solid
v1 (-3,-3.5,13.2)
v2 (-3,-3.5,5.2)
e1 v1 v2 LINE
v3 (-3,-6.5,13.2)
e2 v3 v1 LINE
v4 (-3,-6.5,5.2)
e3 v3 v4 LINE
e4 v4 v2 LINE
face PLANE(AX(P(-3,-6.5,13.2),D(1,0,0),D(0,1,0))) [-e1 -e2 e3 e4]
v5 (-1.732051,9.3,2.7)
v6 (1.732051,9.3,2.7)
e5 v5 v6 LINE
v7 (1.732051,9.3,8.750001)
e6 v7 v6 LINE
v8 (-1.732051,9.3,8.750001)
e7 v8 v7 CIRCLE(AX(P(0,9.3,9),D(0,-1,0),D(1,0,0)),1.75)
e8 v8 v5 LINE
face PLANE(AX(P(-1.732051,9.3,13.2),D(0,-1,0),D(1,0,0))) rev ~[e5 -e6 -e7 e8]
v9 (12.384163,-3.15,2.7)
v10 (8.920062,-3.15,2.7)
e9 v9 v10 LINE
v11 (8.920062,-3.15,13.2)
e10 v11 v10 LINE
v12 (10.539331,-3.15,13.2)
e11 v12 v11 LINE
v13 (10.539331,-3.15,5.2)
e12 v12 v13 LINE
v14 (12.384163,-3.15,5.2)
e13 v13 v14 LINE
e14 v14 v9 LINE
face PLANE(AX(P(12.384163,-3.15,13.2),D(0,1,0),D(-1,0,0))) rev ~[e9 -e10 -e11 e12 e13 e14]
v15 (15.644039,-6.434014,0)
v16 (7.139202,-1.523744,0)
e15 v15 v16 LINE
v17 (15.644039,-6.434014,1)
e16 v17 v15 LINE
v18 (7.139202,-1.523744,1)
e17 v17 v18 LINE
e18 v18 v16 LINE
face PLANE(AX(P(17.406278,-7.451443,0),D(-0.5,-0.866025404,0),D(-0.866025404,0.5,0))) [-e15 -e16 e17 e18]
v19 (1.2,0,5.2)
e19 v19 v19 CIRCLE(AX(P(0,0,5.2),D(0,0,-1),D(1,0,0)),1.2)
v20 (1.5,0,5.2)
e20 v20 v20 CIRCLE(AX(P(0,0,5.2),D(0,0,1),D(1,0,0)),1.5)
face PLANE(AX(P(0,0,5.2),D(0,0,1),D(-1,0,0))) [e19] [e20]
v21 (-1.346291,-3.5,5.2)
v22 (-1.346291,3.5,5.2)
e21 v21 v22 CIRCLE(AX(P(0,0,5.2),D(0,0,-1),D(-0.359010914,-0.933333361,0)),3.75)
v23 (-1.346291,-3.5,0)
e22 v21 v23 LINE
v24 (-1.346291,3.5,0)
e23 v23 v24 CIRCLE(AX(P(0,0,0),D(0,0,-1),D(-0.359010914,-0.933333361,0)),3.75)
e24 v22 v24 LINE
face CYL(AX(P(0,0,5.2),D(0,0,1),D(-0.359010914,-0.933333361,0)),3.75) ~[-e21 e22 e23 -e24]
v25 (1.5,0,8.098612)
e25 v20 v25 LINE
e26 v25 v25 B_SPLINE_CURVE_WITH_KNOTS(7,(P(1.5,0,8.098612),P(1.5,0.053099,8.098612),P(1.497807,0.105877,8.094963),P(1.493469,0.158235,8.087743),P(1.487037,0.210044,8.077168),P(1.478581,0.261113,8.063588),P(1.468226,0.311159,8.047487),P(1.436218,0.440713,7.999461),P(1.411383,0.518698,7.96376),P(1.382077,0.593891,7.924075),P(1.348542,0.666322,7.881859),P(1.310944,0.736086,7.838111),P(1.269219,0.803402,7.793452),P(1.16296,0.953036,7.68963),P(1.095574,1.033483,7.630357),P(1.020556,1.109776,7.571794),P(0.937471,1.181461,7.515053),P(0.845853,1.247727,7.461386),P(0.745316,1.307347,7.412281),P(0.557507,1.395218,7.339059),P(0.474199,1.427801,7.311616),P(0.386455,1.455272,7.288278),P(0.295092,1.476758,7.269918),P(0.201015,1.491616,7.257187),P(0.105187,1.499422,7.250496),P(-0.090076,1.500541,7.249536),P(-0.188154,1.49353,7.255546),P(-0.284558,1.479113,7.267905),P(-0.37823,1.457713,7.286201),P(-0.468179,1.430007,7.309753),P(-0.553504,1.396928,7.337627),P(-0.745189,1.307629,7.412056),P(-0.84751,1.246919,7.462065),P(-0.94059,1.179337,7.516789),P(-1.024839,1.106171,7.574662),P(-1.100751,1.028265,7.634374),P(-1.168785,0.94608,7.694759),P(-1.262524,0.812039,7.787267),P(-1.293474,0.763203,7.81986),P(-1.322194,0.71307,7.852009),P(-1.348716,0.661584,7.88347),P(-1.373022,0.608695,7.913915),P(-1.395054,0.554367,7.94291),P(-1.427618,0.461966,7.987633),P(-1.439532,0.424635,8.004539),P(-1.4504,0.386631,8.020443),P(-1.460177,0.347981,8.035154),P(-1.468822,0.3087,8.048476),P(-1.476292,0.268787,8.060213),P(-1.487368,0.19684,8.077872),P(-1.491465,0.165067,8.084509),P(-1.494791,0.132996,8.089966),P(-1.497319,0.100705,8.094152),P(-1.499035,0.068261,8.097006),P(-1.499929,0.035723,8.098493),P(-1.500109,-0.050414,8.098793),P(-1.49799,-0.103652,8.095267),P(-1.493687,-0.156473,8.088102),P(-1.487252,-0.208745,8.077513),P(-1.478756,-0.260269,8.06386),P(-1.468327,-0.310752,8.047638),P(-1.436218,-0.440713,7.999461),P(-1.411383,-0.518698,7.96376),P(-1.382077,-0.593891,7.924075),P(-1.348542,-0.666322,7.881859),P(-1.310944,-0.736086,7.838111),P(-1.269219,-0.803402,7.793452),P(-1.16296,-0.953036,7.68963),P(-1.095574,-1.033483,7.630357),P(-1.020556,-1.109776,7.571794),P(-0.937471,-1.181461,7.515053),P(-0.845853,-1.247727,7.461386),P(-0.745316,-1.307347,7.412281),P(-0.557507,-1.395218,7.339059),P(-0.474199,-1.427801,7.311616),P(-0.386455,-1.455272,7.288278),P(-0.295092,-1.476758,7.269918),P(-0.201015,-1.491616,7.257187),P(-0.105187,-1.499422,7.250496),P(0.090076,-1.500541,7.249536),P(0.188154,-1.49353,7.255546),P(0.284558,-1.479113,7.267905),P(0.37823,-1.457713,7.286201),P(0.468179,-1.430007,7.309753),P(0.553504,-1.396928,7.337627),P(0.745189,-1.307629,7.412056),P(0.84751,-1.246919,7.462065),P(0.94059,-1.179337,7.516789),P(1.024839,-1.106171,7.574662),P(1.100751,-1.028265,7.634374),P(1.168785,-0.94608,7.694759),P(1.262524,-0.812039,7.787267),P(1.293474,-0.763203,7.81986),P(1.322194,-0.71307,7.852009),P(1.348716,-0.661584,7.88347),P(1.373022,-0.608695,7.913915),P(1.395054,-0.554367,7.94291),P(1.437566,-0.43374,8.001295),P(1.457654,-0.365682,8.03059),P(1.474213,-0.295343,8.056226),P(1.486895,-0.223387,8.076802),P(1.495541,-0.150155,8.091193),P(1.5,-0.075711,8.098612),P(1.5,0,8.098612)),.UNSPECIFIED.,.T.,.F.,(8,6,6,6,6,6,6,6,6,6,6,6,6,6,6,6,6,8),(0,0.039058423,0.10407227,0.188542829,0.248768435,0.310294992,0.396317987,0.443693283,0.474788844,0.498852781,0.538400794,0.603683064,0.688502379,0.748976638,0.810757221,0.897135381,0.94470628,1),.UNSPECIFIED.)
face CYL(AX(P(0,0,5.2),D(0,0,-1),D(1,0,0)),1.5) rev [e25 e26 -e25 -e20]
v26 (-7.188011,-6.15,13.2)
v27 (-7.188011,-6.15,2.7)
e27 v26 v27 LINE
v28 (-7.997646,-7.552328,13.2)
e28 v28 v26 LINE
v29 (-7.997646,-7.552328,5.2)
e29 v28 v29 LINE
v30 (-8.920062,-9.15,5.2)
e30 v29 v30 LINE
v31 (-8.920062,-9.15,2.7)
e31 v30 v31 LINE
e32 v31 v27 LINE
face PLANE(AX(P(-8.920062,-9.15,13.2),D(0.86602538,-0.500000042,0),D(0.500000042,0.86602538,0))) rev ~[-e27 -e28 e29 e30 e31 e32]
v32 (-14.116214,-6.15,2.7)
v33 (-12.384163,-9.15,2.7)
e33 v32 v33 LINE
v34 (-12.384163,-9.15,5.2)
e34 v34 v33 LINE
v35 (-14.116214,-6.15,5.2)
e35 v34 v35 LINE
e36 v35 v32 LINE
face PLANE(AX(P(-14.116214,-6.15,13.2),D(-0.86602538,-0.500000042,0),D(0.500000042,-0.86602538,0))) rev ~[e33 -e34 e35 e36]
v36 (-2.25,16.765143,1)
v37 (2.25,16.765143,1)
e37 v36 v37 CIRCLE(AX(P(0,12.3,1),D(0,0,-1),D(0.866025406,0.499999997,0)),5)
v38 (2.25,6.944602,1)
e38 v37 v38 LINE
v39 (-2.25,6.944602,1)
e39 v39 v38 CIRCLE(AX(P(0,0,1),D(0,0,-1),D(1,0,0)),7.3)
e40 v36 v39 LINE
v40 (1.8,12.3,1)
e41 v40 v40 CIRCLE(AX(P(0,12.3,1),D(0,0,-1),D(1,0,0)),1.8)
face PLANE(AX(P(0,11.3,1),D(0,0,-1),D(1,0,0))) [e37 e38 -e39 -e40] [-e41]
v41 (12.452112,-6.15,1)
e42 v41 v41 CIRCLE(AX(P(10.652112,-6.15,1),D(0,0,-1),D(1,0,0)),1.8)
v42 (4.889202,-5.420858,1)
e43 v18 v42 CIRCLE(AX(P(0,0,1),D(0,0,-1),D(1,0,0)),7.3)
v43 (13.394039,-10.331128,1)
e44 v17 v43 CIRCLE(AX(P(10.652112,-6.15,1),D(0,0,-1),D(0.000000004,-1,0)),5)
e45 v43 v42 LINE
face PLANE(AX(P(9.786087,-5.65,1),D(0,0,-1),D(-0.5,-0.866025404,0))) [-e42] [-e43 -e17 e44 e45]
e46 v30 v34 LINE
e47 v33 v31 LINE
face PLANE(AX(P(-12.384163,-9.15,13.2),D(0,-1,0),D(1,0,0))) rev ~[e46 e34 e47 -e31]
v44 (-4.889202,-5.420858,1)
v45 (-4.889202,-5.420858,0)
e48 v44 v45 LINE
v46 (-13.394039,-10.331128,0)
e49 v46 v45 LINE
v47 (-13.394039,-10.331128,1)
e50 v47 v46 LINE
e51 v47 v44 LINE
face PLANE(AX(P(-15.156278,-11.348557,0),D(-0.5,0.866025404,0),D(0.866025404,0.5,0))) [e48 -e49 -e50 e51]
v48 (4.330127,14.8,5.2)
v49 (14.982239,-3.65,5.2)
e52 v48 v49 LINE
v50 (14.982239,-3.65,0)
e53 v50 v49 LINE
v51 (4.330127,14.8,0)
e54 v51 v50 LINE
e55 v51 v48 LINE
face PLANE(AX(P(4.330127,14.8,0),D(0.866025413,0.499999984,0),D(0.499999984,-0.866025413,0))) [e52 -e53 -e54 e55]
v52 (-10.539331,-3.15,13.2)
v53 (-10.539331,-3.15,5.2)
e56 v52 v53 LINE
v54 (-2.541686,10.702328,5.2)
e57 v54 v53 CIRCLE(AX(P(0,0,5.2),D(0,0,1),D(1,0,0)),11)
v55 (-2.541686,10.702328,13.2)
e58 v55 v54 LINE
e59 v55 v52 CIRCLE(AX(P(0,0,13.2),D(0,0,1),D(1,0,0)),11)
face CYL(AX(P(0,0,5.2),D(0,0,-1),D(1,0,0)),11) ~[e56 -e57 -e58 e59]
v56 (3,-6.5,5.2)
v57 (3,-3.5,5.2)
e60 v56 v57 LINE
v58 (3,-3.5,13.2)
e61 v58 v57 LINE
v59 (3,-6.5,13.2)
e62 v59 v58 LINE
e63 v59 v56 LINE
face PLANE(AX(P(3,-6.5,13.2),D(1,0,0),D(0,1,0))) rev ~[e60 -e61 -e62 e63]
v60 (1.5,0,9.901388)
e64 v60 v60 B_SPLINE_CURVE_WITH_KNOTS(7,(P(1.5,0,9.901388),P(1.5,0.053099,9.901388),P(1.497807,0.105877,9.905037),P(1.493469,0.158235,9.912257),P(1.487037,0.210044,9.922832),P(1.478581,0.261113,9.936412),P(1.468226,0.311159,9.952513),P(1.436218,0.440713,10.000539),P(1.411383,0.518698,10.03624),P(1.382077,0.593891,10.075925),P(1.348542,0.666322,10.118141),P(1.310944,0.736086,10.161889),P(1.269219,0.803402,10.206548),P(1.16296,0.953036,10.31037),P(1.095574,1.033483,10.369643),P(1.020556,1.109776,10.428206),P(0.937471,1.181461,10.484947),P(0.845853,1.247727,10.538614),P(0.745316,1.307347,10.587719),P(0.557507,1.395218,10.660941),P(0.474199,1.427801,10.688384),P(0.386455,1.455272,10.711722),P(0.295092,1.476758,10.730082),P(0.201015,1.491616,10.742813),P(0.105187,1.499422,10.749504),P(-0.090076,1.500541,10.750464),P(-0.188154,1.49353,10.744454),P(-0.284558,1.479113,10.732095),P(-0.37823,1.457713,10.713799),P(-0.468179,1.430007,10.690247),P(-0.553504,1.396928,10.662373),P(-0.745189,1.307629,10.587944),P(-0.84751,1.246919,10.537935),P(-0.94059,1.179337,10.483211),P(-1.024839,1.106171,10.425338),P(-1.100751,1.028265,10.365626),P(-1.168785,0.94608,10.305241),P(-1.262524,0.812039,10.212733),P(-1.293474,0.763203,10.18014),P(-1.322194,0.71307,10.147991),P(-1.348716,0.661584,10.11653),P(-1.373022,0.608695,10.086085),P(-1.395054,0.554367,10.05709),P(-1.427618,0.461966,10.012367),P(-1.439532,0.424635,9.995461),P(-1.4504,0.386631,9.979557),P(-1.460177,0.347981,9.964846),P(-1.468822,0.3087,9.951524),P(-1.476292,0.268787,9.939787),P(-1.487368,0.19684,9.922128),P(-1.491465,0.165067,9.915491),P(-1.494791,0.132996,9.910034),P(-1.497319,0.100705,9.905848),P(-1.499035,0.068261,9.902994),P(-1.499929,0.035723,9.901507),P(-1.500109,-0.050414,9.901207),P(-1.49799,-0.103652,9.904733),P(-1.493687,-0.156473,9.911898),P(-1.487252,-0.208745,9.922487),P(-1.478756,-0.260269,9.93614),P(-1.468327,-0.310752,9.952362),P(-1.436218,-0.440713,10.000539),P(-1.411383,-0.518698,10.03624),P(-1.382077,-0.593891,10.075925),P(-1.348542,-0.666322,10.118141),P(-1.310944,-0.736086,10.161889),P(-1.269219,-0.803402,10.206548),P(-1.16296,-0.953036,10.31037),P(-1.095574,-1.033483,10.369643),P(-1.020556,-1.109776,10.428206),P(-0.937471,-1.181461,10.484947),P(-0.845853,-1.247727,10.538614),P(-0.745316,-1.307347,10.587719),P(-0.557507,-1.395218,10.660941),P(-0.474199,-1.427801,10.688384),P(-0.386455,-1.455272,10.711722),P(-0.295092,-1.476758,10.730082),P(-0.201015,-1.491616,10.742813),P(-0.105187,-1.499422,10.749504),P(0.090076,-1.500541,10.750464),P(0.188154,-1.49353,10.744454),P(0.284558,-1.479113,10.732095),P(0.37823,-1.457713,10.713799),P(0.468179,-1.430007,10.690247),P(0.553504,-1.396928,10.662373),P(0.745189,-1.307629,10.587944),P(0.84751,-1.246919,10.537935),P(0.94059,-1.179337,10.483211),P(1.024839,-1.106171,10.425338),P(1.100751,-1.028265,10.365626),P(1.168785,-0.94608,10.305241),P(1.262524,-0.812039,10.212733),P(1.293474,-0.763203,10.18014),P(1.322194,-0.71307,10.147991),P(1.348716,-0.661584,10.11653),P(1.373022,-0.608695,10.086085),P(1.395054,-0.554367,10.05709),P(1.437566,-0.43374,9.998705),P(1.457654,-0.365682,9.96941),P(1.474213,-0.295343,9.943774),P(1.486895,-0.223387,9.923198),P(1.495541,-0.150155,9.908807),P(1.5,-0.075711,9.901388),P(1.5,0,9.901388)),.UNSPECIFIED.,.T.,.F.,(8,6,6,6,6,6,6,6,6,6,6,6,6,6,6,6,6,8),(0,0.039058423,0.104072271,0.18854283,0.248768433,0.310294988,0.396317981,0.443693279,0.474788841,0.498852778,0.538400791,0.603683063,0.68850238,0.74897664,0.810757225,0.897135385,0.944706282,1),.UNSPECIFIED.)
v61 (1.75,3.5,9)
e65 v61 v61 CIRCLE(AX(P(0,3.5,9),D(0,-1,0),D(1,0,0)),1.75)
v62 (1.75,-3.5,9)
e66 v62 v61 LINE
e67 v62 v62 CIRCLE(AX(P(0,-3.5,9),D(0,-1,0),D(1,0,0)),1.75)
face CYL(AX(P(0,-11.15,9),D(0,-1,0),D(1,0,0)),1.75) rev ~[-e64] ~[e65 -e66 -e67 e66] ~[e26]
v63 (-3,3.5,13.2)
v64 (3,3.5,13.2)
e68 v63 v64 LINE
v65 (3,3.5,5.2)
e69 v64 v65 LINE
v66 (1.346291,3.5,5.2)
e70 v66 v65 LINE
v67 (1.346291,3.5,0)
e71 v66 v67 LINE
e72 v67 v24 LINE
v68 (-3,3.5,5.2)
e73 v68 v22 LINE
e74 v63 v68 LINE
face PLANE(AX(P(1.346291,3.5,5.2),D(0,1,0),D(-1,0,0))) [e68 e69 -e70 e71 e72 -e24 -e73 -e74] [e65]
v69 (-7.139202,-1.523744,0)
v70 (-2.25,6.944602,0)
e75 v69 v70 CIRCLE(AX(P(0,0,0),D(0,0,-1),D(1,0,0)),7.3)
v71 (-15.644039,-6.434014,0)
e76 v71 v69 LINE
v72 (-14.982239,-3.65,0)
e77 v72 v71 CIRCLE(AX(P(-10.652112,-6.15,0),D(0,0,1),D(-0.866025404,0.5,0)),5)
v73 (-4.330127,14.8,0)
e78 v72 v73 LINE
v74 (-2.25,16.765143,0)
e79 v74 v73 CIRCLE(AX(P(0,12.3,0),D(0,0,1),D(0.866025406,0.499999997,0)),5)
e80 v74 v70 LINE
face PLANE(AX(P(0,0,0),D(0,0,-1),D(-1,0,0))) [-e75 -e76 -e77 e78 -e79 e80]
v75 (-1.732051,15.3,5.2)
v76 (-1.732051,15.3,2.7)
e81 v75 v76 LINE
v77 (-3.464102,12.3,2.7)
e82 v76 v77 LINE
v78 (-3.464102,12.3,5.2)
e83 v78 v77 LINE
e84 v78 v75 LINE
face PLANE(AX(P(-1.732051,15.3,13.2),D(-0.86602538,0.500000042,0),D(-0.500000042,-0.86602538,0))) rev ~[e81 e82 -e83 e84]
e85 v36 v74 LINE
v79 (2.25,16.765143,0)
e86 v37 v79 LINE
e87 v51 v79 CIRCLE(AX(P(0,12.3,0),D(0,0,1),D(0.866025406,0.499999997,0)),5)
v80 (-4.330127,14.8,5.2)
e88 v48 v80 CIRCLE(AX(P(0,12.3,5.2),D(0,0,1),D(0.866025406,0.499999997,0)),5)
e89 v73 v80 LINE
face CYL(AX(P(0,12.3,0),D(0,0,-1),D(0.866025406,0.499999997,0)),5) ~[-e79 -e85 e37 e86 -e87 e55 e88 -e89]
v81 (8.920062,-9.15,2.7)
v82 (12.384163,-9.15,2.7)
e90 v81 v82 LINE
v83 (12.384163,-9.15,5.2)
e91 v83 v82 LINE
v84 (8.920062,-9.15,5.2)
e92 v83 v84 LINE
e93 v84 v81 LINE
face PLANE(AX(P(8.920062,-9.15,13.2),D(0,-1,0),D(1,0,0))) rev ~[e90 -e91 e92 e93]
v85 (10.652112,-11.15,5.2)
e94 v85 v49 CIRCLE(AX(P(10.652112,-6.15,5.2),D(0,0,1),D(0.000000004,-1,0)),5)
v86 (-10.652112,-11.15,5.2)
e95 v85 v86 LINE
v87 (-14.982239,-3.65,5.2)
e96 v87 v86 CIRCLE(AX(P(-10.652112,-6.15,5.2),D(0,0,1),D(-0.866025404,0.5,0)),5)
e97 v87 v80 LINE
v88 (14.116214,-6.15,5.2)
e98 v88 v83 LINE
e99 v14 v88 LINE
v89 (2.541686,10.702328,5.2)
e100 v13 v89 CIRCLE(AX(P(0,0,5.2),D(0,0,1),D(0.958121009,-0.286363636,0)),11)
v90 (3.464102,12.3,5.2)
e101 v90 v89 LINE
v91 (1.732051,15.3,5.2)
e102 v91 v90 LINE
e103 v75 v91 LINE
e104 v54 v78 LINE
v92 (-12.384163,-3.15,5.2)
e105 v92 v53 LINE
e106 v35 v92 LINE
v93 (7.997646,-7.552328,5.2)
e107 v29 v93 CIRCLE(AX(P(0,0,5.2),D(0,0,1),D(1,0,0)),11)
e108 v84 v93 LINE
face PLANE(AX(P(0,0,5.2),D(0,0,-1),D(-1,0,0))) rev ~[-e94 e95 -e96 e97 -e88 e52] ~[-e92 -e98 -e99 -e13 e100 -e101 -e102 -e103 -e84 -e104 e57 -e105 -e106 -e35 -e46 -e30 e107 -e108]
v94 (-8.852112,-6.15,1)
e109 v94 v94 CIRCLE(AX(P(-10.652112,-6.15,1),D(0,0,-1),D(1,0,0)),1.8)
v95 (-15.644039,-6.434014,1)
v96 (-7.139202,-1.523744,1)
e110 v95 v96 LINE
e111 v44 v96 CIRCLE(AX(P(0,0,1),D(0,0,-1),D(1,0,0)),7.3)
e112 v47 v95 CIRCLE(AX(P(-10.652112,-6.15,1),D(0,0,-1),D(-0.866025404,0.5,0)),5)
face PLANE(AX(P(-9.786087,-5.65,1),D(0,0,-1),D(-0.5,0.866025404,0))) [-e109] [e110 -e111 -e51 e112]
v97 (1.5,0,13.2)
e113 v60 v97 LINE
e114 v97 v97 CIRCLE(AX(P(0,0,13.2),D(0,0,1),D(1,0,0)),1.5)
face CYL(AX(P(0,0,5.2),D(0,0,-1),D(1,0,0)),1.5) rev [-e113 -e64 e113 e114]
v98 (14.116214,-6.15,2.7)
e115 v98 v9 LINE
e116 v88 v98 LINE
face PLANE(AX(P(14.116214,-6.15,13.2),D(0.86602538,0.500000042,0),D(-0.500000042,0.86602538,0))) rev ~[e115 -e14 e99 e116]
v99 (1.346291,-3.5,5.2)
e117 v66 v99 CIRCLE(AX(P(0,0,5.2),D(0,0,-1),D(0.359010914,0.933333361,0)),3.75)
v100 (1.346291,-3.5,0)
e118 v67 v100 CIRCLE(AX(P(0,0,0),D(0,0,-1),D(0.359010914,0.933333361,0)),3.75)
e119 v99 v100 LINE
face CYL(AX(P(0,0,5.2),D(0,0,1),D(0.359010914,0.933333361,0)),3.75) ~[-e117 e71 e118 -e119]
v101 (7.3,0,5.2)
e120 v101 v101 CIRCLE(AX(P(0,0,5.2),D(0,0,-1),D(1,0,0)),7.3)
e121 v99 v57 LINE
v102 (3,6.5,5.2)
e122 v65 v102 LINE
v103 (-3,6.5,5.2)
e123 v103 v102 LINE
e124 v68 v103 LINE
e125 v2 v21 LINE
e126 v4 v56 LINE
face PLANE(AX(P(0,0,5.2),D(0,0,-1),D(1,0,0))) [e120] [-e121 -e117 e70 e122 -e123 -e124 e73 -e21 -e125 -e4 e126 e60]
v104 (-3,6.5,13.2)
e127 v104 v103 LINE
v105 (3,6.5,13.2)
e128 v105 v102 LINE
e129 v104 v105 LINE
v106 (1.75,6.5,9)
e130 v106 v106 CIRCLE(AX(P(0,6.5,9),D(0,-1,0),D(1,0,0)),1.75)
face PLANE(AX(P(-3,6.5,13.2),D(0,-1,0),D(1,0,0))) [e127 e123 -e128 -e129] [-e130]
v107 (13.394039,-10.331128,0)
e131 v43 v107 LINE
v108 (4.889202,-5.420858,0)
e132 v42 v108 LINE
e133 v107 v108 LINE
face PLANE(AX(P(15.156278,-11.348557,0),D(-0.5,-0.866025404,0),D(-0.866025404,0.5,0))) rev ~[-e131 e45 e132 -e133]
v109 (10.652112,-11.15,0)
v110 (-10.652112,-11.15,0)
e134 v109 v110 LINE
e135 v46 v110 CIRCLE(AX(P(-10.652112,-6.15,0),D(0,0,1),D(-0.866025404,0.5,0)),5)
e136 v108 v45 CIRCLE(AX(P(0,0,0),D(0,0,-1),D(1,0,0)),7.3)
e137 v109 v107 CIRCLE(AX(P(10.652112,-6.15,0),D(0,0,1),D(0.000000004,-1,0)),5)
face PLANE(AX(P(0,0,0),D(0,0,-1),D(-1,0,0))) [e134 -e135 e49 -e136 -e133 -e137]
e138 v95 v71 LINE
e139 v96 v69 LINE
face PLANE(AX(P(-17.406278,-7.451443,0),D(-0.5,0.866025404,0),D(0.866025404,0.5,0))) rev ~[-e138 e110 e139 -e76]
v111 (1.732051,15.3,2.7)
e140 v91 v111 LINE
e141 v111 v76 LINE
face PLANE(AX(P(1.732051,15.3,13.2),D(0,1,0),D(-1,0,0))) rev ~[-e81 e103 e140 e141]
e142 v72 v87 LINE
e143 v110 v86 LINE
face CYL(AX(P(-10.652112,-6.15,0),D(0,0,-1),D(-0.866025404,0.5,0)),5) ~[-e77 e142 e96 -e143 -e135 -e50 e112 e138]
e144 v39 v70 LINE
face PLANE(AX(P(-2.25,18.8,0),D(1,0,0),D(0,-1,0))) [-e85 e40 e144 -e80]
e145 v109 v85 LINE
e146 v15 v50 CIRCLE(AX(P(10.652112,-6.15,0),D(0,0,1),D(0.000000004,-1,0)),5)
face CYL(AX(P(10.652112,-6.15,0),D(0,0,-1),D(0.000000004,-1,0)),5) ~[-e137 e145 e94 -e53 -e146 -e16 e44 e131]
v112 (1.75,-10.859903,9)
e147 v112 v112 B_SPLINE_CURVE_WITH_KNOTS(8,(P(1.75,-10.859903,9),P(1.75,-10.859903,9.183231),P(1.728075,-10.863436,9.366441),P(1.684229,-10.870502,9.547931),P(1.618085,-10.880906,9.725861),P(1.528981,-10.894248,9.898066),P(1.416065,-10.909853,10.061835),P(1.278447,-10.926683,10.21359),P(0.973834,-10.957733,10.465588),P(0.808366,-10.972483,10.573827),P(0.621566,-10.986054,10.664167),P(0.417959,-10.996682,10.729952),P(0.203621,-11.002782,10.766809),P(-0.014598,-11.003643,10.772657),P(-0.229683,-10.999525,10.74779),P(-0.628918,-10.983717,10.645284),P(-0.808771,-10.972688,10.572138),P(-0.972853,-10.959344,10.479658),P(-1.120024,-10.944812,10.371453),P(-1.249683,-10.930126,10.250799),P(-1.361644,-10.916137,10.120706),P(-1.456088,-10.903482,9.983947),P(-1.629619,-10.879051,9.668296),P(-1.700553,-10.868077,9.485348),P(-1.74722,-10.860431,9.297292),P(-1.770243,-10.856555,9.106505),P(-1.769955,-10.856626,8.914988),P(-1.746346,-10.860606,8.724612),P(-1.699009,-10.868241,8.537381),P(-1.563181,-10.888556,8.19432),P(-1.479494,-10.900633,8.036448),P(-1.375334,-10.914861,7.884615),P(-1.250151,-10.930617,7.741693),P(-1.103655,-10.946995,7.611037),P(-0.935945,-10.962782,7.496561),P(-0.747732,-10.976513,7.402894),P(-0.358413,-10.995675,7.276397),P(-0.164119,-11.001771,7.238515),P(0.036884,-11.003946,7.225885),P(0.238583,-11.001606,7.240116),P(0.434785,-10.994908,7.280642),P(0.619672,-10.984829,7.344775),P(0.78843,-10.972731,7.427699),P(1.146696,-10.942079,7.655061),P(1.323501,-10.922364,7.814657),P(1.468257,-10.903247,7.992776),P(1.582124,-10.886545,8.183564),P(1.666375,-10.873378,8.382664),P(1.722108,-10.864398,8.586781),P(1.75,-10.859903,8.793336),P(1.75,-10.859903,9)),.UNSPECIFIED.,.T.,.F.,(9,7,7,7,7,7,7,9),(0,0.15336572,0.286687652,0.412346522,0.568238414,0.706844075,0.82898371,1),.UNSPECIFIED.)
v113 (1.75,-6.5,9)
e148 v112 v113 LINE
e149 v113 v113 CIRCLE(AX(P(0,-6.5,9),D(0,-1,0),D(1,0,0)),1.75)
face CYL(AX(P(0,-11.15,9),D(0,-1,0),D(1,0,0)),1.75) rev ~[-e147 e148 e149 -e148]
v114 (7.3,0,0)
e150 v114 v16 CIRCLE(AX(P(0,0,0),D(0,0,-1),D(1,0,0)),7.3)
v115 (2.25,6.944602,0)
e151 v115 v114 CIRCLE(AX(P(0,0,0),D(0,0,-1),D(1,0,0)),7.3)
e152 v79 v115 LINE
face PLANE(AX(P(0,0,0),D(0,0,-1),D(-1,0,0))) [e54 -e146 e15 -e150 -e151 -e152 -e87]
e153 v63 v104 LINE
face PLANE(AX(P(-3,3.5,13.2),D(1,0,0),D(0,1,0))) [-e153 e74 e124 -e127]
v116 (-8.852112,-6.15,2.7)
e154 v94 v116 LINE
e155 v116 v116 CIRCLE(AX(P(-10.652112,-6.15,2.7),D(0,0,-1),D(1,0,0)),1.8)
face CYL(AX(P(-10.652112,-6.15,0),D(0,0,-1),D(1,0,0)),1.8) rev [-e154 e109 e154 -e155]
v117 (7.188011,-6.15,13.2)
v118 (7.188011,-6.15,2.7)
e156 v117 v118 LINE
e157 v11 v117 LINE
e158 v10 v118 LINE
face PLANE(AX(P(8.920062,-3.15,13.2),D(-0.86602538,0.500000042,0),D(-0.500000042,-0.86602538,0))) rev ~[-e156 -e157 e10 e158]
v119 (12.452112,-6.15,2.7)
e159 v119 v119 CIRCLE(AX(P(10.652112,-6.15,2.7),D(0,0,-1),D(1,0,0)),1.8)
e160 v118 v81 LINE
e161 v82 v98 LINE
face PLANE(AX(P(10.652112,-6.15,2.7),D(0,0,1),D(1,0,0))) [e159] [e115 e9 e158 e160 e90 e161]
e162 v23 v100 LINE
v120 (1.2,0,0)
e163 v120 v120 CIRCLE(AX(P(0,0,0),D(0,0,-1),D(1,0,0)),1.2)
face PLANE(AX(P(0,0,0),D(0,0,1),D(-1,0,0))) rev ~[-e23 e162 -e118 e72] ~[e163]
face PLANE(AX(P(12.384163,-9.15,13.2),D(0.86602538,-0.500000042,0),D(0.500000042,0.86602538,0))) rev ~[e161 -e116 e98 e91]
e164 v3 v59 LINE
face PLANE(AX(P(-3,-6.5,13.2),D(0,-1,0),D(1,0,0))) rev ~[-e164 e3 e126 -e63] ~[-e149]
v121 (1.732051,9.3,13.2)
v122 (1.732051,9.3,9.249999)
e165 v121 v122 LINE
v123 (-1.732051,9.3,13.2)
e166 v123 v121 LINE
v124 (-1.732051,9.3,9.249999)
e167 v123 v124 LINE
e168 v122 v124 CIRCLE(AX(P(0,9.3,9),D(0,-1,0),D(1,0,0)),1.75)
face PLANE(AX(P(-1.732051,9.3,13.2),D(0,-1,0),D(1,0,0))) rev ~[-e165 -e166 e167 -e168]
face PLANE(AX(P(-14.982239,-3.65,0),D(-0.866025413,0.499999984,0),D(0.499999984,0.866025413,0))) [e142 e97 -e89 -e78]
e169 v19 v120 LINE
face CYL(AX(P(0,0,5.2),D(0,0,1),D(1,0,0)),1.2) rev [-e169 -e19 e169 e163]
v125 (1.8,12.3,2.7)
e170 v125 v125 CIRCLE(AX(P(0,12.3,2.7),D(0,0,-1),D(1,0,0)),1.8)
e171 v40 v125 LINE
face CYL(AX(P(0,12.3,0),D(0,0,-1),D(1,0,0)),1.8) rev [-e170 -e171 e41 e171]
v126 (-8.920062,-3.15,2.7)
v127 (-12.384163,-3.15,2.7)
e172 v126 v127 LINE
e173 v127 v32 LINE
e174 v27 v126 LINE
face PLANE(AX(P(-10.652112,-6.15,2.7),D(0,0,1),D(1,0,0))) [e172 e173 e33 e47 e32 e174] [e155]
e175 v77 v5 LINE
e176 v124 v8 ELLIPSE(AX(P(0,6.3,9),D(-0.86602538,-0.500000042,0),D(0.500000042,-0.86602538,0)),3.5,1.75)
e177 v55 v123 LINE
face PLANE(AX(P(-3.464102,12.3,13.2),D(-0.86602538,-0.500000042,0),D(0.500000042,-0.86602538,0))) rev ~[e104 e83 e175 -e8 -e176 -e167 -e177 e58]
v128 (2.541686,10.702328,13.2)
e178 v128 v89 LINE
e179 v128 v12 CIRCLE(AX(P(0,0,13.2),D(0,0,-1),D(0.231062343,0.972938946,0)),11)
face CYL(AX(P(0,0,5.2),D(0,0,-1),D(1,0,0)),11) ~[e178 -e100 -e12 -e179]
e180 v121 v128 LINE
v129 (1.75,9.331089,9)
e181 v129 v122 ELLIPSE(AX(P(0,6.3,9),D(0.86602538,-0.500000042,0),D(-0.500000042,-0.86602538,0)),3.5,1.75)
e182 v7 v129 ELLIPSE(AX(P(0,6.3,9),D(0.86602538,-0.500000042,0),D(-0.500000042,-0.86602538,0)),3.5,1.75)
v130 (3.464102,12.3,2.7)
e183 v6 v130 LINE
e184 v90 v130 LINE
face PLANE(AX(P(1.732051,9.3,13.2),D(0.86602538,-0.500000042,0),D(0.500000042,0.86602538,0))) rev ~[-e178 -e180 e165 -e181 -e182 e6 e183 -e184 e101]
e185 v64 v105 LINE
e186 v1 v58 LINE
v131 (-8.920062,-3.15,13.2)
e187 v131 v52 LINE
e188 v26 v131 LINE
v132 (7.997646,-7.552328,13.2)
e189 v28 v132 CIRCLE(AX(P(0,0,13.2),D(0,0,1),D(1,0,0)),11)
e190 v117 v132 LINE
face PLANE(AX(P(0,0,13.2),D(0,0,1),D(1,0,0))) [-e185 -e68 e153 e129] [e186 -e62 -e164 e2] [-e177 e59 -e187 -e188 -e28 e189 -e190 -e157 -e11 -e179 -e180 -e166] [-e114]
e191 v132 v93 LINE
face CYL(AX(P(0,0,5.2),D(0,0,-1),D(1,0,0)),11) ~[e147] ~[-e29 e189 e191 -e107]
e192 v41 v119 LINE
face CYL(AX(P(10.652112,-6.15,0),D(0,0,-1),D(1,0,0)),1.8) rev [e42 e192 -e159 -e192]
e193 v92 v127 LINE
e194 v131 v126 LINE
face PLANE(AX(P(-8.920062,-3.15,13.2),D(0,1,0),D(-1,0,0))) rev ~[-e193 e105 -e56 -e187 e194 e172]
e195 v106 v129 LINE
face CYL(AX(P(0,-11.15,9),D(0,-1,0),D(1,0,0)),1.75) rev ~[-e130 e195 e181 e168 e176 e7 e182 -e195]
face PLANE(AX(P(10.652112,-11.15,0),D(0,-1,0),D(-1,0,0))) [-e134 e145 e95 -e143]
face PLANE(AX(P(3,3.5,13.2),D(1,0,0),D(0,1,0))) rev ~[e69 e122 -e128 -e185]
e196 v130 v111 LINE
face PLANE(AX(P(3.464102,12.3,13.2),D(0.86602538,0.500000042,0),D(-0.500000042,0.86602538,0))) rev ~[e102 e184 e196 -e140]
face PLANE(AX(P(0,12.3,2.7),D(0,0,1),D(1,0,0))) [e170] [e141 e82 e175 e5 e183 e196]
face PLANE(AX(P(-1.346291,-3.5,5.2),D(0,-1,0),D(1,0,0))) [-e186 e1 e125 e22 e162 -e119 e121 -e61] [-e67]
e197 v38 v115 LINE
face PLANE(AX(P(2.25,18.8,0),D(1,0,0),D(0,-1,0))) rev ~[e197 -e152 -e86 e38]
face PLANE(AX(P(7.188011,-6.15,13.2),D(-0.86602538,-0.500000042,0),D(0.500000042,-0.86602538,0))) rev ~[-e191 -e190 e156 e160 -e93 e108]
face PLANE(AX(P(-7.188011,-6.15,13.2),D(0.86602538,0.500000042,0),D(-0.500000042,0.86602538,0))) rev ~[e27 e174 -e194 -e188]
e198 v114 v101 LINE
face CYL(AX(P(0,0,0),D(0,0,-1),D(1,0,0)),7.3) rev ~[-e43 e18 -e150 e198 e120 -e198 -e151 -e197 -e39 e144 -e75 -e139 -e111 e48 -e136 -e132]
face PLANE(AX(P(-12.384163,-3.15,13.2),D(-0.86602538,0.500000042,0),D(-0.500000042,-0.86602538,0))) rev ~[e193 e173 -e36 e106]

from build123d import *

# Parameters (mm, degrees)
SKETCH_R           = 1.8
PAD_DEPTH          = 5.2
SKETCH002_R        = 11
SKETCH002_R_2      = 1.5
PAD001_DEPTH       = 8
SKETCH003_R        = 7.3
POCKET001_DEPTH    = 5.2
POCKET_DEPTH       = 10.5
SKETCH005_R        = 1.75
POCKET002_DEPTH    = 28.451
SKETCH006_W        = 6
SKETCH006_H        = 3
POCKET003_DEPTH    = 8
SKETCH007_R        = 1.2
PAD002_DEPTH       = 5.2
SKETCH008_W        = 4.5
SKETCH008_H        = 15
POCKET004_DEPTH    = 1
POLARPATTERN_COUNT = 3


with BuildPart() as part:
    # Sketch → Pad (new body)
    with BuildSketch(Plane.XY):
        with BuildLine():
            Line((-14.982239, -3.65), (-4.330127, 14.8))
            ThreePointArc((4.330127, 14.8), (0, 17.3), (-4.330127, 14.8))
            Line((4.330127, 14.8), (14.982239, -3.65))
            ThreePointArc((10.652112, -11.15), (14.982239, -8.65), (14.982239, -3.65))
            Line((10.652112, -11.15), (-10.652112, -11.15))
            ThreePointArc((-14.982239, -3.65), (-14.982239, -8.65), (-10.652112, -11.15))
        make_face()
        with Locations((0, 12.3)):
            Circle(SKETCH_R, mode=Mode.SUBTRACT)
        with Locations((-10.652112, -6.15)):
            Circle(SKETCH_R, mode=Mode.SUBTRACT)
        with Locations((10.652112, -6.15)):
            Circle(SKETCH_R, mode=Mode.SUBTRACT)
    extrude(amount=PAD_DEPTH)

    # Sketch002 (on Face11 of Pad) → Pad001 (join)
    with BuildSketch(Plane.XY.offset(5.2)):
        Circle(SKETCH002_R)
        Circle(SKETCH002_R_2, mode=Mode.SUBTRACT)
    extrude(amount=PAD001_DEPTH)

    # Sketch003 (on Face4 of Pad001) → Pocket001 (cut)
    with BuildSketch(Plane(origin=(0, 0, 0), x_dir=(1, 0, 0), z_dir=(0, 0, -1))):
        Circle(SKETCH003_R)
    extrude(amount=-POCKET001_DEPTH, mode=Mode.SUBTRACT)

    # Sketch004 (on Face18 of Pocket001) → Pocket (cut)
    with BuildSketch(Plane.XY.offset(13.2)):
        Polygon((-7.188011, -6.15), (-8.920062, -3.15), (-12.384163, -3.15), (-14.116214, -6.15), (-12.384163, -9.15), (-8.920062, -9.15), align=None)
        Polygon((1.732051, 9.3), (3.464102, 12.3), (1.732051, 15.3), (-1.732051, 15.3), (-3.464102, 12.3), (-1.732051, 9.3), align=None)
        Polygon((12.384163, -9.15), (14.116214, -6.15), (12.384163, -3.15), (8.920062, -3.15), (7.188011, -6.15), (8.920062, -9.15), align=None)
    extrude(amount=-POCKET_DEPTH, mode=Mode.SUBTRACT)

    # Sketch005 (on Face6 of Pocket) → Pocket002 (cut, through all)
    with BuildSketch(Plane.XZ.offset(11.15)):
        with Locations((0, 9)):
            Circle(SKETCH005_R)
    extrude(amount=-POCKET002_DEPTH, mode=Mode.SUBTRACT)

    # Sketch006 (on Face36 of Pocket002) → Pocket003 (cut)
    with BuildSketch(Plane.XY.offset(13.2)):
        with Locations((0, 5)):
            Rectangle(SKETCH006_W, SKETCH006_H)
        with Locations((0, -5)):
            Rectangle(SKETCH006_W, SKETCH006_H)
    extrude(amount=-POCKET003_DEPTH, mode=Mode.SUBTRACT)

    # Sketch007 (on Face33 of Pocket003) → Pad002 (join)
    with BuildSketch(Plane(origin=(0, 0, 5.2), x_dir=(1, 0, 0), z_dir=(0, 0, -1))):
        with BuildLine():
            Line((-1.346291, 3.5), (1.346291, 3.5))
            ThreePointArc((1.346291, -3.5), (3.75, 0), (1.346291, 3.5))
            Line((1.346291, -3.5), (-1.346291, -3.5))
            ThreePointArc((-1.346291, 3.5), (-3.75, 0), (-1.346291, -3.5))
        make_face()
        Circle(SKETCH007_R, mode=Mode.SUBTRACT)
    extrude(amount=PAD002_DEPTH)

    # Sketch008 (on Face4 of Pad002) → Pocket004 (cut)
    with BuildSketch(Plane(origin=(0, 0, 0), x_dir=(1, 0, 0), z_dir=(0, 0, -1))):
        with Locations((0, -11.3)):
            Rectangle(SKETCH008_W, SKETCH008_H)
    pocket004 = extrude(amount=-POCKET004_DEPTH, mode=Mode.SUBTRACT)

    # PolarPattern: Pocket004 ×3 about axis
    polarpattern_axis = Axis((0, 0, 0), (0, 0, -1))
    for i in range(1, POLARPATTERN_COUNT):
        add(pocket004.rotate(polarpattern_axis, i * 360 / POLARPATTERN_COUNT), mode=Mode.SUBTRACT)


solid = part.part
